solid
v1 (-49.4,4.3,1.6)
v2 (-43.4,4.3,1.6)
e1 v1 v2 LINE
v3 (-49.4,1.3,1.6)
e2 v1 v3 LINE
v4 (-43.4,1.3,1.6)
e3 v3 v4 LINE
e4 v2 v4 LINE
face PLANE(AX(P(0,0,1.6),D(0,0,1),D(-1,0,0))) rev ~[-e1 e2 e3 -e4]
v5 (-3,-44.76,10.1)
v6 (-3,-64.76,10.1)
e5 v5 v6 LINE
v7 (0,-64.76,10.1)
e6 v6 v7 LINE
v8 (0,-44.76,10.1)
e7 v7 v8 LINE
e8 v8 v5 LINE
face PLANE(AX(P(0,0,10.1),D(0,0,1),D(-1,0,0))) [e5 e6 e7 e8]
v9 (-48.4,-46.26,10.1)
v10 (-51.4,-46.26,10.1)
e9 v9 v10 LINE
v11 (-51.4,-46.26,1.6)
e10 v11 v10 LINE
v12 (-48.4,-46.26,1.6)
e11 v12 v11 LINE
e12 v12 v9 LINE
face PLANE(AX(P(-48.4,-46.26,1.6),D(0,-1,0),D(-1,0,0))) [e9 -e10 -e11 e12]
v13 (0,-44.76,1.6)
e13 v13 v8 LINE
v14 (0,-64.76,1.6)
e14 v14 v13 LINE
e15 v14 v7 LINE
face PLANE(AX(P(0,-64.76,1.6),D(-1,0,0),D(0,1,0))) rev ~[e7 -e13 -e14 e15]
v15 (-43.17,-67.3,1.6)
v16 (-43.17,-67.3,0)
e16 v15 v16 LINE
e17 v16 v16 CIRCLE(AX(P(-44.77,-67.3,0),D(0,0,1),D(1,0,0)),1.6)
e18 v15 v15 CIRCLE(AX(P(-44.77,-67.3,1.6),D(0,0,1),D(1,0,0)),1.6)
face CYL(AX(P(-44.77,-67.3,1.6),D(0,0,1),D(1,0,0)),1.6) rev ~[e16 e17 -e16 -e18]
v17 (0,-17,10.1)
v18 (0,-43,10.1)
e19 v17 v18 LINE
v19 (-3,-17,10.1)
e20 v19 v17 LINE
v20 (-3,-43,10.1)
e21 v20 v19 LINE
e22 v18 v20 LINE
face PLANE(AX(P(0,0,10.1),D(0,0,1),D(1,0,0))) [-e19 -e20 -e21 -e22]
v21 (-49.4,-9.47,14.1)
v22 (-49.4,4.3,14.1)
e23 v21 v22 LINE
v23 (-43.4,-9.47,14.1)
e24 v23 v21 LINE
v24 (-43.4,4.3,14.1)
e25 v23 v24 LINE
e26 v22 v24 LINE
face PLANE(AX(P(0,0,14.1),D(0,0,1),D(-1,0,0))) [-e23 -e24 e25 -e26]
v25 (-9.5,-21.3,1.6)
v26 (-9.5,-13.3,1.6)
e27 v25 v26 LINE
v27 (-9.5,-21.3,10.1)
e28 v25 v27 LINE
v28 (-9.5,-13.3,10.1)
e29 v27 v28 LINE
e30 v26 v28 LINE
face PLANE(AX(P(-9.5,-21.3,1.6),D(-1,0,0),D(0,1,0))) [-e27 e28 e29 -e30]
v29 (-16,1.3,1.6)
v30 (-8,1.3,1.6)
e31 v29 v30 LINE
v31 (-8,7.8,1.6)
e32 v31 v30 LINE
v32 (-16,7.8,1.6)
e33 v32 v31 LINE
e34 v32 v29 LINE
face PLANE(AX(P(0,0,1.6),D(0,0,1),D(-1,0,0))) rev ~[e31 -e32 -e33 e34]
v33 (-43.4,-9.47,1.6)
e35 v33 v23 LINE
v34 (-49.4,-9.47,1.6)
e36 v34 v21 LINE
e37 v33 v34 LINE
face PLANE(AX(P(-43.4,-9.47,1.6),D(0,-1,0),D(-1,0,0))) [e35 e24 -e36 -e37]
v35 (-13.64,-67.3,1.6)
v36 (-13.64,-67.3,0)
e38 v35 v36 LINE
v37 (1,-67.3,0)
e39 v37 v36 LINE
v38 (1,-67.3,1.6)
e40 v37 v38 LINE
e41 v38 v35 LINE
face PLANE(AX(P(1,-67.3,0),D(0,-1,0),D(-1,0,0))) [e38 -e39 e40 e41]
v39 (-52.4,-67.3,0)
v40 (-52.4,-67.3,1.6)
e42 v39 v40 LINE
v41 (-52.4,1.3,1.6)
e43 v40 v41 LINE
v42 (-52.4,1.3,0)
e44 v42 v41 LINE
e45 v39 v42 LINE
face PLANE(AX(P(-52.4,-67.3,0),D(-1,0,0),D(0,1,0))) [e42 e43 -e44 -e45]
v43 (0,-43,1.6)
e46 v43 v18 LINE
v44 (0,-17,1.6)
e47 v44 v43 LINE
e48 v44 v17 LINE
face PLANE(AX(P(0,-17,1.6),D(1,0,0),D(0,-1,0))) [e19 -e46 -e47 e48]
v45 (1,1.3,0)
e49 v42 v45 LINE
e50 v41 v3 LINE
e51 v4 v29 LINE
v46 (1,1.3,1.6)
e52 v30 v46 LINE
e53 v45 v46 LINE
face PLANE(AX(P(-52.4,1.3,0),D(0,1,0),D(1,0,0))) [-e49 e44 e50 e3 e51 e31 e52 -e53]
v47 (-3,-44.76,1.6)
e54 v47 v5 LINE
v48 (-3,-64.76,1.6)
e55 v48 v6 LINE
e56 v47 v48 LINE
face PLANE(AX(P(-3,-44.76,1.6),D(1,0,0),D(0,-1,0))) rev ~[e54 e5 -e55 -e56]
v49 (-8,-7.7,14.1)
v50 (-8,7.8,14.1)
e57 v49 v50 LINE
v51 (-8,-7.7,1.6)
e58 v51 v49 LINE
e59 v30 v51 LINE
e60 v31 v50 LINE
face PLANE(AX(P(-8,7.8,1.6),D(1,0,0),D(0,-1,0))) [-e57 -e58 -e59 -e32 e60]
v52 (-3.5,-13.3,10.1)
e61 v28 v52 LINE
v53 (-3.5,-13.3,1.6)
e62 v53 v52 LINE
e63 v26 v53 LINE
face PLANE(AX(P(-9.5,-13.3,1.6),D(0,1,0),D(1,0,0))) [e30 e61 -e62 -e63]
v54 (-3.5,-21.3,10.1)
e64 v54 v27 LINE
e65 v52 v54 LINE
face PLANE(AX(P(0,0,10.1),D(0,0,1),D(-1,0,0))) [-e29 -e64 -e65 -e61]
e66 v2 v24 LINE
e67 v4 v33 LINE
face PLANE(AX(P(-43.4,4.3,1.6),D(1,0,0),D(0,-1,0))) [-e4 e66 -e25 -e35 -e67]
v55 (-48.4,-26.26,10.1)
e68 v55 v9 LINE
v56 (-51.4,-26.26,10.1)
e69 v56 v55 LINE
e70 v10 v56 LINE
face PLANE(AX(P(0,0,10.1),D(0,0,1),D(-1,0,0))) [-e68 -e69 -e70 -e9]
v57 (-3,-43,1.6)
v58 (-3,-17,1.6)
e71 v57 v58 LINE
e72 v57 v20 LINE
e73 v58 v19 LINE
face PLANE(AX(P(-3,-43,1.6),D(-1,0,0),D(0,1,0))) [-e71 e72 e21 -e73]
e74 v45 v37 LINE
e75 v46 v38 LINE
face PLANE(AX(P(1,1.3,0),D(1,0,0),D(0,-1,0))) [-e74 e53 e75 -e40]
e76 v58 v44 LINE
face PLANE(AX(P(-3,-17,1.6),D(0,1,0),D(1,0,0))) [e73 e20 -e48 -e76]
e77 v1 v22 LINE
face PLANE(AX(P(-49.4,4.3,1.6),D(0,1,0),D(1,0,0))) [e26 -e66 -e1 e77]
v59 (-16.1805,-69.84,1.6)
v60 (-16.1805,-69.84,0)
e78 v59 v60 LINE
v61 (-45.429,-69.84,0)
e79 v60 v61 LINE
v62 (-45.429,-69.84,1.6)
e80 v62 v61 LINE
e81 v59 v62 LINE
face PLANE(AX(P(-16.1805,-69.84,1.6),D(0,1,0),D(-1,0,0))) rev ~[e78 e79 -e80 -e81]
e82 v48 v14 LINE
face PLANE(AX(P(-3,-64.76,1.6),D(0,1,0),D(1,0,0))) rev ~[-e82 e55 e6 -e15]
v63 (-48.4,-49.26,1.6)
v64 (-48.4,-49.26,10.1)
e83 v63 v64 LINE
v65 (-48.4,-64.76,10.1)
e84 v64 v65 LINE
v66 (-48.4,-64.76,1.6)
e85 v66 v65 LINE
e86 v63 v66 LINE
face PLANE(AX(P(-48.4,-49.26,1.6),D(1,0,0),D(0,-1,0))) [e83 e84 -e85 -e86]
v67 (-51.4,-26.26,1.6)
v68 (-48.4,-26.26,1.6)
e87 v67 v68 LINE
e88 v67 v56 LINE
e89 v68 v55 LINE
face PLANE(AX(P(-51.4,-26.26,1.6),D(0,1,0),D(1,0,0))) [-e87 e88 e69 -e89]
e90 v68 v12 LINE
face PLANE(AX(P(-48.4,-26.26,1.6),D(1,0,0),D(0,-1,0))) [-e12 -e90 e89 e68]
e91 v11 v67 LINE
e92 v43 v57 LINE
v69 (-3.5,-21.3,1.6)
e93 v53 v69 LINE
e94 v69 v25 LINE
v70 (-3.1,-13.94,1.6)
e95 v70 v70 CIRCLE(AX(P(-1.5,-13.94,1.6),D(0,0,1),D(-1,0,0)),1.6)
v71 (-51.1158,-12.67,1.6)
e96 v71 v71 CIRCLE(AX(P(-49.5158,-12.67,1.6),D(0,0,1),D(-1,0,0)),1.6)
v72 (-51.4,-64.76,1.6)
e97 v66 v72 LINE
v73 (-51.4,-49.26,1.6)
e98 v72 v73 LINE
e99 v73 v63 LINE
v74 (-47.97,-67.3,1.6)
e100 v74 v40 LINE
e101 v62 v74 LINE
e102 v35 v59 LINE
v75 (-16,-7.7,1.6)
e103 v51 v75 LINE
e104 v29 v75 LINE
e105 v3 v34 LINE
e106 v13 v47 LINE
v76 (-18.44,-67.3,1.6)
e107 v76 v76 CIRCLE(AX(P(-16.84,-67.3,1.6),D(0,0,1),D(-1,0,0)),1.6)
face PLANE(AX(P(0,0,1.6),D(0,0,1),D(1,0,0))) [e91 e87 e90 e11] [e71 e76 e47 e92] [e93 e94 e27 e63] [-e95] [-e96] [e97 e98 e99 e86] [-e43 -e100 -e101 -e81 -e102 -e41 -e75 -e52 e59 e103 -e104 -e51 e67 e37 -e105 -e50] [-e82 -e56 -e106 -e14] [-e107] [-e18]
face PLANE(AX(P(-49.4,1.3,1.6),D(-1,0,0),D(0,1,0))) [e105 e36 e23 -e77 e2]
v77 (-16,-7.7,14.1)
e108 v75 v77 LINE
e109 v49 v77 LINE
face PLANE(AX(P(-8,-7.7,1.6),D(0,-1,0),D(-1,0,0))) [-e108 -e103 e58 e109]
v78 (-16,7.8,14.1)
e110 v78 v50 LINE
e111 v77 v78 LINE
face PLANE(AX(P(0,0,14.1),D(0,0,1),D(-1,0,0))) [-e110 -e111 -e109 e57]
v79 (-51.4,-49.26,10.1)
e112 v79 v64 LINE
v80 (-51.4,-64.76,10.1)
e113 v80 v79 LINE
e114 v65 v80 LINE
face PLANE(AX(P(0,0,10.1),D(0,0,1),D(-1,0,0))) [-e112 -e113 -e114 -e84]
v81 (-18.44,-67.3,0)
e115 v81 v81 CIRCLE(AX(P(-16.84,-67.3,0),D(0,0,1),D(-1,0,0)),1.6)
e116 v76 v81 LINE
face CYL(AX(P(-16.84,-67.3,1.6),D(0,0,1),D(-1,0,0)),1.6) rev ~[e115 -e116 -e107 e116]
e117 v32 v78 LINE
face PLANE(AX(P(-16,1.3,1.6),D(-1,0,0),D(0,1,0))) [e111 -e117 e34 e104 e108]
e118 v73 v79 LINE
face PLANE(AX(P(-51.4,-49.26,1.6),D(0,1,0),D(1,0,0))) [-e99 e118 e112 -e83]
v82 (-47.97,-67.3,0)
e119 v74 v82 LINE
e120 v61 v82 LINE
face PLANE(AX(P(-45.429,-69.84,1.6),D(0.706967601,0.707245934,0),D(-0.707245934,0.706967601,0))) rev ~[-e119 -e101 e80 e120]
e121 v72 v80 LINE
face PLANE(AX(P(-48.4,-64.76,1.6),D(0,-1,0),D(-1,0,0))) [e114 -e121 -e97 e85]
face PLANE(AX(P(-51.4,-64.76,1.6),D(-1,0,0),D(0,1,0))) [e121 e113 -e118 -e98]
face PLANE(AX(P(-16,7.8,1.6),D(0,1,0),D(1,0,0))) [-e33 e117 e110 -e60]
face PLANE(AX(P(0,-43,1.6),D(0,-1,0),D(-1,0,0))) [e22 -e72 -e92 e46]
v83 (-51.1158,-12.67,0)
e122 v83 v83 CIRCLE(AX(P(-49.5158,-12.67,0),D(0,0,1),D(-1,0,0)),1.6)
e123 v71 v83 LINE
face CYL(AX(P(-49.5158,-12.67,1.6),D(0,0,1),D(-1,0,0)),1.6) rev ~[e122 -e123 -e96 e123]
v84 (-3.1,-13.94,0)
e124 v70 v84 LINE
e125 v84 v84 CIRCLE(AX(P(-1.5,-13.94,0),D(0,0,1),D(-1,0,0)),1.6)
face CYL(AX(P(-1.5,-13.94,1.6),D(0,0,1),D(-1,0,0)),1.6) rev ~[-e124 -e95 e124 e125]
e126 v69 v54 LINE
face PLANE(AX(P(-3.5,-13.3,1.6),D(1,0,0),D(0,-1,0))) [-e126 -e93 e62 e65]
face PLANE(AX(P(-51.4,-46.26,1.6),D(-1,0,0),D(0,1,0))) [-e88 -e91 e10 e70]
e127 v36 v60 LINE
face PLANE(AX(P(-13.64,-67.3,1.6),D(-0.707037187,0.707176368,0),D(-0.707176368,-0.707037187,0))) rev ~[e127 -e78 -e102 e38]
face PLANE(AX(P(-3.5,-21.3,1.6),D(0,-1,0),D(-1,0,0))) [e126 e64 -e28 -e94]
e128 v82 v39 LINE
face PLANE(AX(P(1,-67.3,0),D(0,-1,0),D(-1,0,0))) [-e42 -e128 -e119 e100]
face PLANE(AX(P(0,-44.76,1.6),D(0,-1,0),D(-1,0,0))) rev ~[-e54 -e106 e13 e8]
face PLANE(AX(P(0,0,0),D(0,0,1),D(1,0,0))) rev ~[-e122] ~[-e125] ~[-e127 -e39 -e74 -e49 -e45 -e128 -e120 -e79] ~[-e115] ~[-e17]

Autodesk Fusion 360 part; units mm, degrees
sketch "Sketch1" plane through (0, 0, 0) normal (0, 0, 1) x (1, 0, 0)
  line L0 (-52.4, 1.3) -> (1, 1.3)
  line L1 (1, 1.3) -> (1, -67.3)
  line L2 (1, -67.3) -> (-52.4, -67.3)
  line L3 (-52.4, -67.3) -> (-52.4, 1.3)
  dimension "d1" = 68.6
  dimension "d2" = 53.4
extrude "Extrude1" add sketch "Sketch1" along normal blind 1.6
sketch "Sketch3" plane through (0, 0, 1.6) normal (0, 0, 1) x (-1, 0, 0)
  line L0 (52.4, 67.3) -> (-1, 67.3)
  line L1 (-1, 67.3) -> (-1, -1.3)
  line L2 (-1, -1.3) -> (52.4, -1.3)
  line L3 (52.4, -1.3) -> (52.4, 67.3)
  line L4 (3, 64.76) -> (0, 64.76)
  line L5 (0, 64.76) -> (0, 44.76)
  line L6 (0, 44.76) -> (3, 44.76)
  line L7 (3, 44.76) -> (3, 64.76)
  dimension "d5" = 20
  dimension "d6" = 2.54
  dimension "d7" = 3
  dimension "d34" = 1
extrude "Extrude2" add sketch "Sketch3" along normal blind 8.5 contours L4 L5 L6 L7
sketch "Sketch4" plane through (0, 0, 1.6) normal (0, 0, 1) x (-1, 0, 0)
  line L0 (3, 44.76) -> (0, 44.76)
  line L1 (0, 44.76) -> (0, 64.76)
  line L2 (0, 64.76) -> (3, 64.76)
  line L3 (3, 64.76) -> (3, 44.76)
  line L4 (52.4, 67.3) -> (-1, 67.3)
  line L5 (-1, 67.3) -> (-1, -1.3)
  line L6 (-1, -1.3) -> (52.4, -1.3)
  line L7 (52.4, -1.3) -> (52.4, 67.3)
  line L8 (51.4, 49.26) -> (48.4, 49.26)
  line L9 (48.4, 49.26) -> (48.4, 64.76)
  line L10 (48.4, 64.76) -> (51.4, 64.76)
  line L11 (51.4, 64.76) -> (51.4, 49.26)
  dimension "d10" = 15.5
  dimension "d11" = 2.54
  dimension "d12" = 3
  dimension "d36" = 1
extrude "Extrude3" add sketch "Sketch4" along normal blind 8.5 contours L8 L9 L10 L11
sketch "Sketch5" plane through (0, 0, 1.6) normal (0, 0, 1) x (-1, 0, 0)
  line L0 (51.4, 64.76) -> (51.4, 49.26)
  line L1 (51.4, 49.26) -> (48.4, 49.26)
  line L2 (48.4, 49.26) -> (48.4, 64.76)
  line L3 (48.4, 64.76) -> (51.4, 64.76)
  line L4 (3, 44.76) -> (0, 44.76)
  line L5 (0, 44.76) -> (0, 64.76)
  line L6 (0, 64.76) -> (3, 64.76)
  line L7 (3, 64.76) -> (3, 44.76)
  line L8 (52.4, 67.3) -> (-1, 67.3)
  line L9 (-1, 67.3) -> (-1, -1.3)
  line L10 (-1, -1.3) -> (52.4, -1.3)
  line L11 (52.4, -1.3) -> (52.4, 67.3)
  line L12 (51.4, 26.26) -> (48.4, 26.26)
  line L13 (48.4, 26.26) -> (48.4, 46.26)
  line L14 (48.4, 46.26) -> (51.4, 46.26)
  line L15 (51.4, 46.26) -> (51.4, 26.26)
  dimension "d15" = 20
  dimension "d16" = 3
  dimension "d17" = 3
  dimension "d35" = 1
extrude "Extrude4" add sketch "Sketch5" along normal blind 8.5 contours L12 L13 L14 L15
sketch "Sketch6" plane through (0, 0, 1.6) normal (0, 0, 1) x (-1, 0, 0)
  line L0 (51.4, 46.26) -> (51.4, 26.26)
  line L1 (51.4, 26.26) -> (48.4, 26.26)
  line L2 (48.4, 26.26) -> (48.4, 46.26)
  line L3 (48.4, 46.26) -> (51.4, 46.26)
  line L4 (51.4, 64.76) -> (51.4, 49.26)
  line L5 (51.4, 49.26) -> (48.4, 49.26)
  line L6 (48.4, 49.26) -> (48.4, 64.76)
  line L7 (48.4, 64.76) -> (51.4, 64.76)
  line L8 (3, 44.76) -> (0, 44.76)
  line L9 (0, 44.76) -> (0, 64.76)
  line L10 (0, 64.76) -> (3, 64.76)
  line L11 (3, 64.76) -> (3, 44.76)
  line L12 (52.4, 67.3) -> (-1, 67.3)
  line L13 (-1, 67.3) -> (-1, -1.3)
  line L14 (-1, -1.3) -> (52.4, -1.3)
  line L15 (52.4, -1.3) -> (52.4, 67.3)
  line L16 (9.5, 13.3) -> (3.5, 13.3)
  line L17 (3.5, 13.3) -> (3.5, 21.3)
  line L18 (3.5, 21.3) -> (9.5, 21.3)
  line L19 (9.5, 21.3) -> (9.5, 13.3)
  dimension "d20" = 8
  dimension "d21" = 6
  dimension "d22" = 46
  dimension "d23" = 0.5
extrude "Extrude5" add sketch "Sketch6" along normal blind 8.5 contours L16 L17 L18 L19
sketch "Sketch7" plane through (0, 0, 1.6) normal (0, 0, 1) x (-1, 0, 0)
  line L0 (9.5, 21.3) -> (9.5, 13.3)
  line L1 (9.5, 13.3) -> (3.5, 13.3)
  line L2 (3.5, 13.3) -> (3.5, 21.3)
  line L3 (3.5, 21.3) -> (9.5, 21.3)
  line L4 (51.4, 46.26) -> (51.4, 26.26)
  line L5 (51.4, 26.26) -> (48.4, 26.26)
  line L6 (48.4, 26.26) -> (48.4, 46.26)
  line L7 (48.4, 46.26) -> (51.4, 46.26)
  line L8 (51.4, 64.76) -> (51.4, 49.26)
  line L9 (51.4, 49.26) -> (48.4, 49.26)
  line L10 (48.4, 49.26) -> (48.4, 64.76)
  line L11 (48.4, 64.76) -> (51.4, 64.76)
  line L12 (3, 44.76) -> (0, 44.76)
  line L13 (0, 44.76) -> (0, 64.76)
  line L14 (0, 64.76) -> (3, 64.76)
  line L15 (3, 64.76) -> (3, 44.76)
  line L16 (52.4, 67.3) -> (-1, 67.3)
  line L17 (-1, 67.3) -> (-1, -1.3)
  line L18 (-1, -1.3) -> (52.4, -1.3)
  line L19 (52.4, -1.3) -> (52.4, 67.3)
  circle A0 centre (1.5, 13.94) radius 1.6
  dimension "d26" = 3.2
  dimension "d27" = 15.24
  dimension "d28" = 2.5
sketch "Sketch8" plane through (0, 0, 10.1) normal (0, 0, 1) x (-1, 0, 0)
  line L0 (3, 44.76) -> (3, 64.76)
  line L1 (3, 64.76) -> (0, 64.76)
  line L2 (0, 64.76) -> (0, 44.76)
  line L3 (0, 44.76) -> (3, 44.76)
sketch "Sketch9" plane through (0, 0, 1.6) normal (0, 0, 1) x (1, 0, 0)
  line L0 (0, -43) -> (-3, -43)
  line L1 (-3, -43) -> (-3, -17)
  line L2 (-3, -17) -> (0, -17)
  line L3 (0, -17) -> (0, -43)
  line L4 (1, -67.3) -> (1, 1.3)
  dimension "d29" = 26
  dimension "d30" = 3
  dimension "d31" = 1
extrude "Extrude6" add sketch "Sketch9" along normal blind 8.5
extrude "Extrude7" cut sketch "Sketch7" against normal blind 50 contours A0
sketch "Sketch10" plane through (0, 0, 1.6) normal (0, 0, 1) x (-1, 0, 0)
  circle A0 centre (1.5, 13.94) radius 1.6
  line L0 (0, 17) -> (0, 43)
  line L1 (0, 43) -> (3, 43)
  line L2 (3, 43) -> (3, 17)
  line L3 (3, 17) -> (0, 17)
  line L4 (9.5, 21.3) -> (9.5, 13.3)
  line L5 (9.5, 13.3) -> (3.5, 13.3)
  line L6 (3.5, 13.3) -> (3.5, 21.3)
  line L7 (3.5, 21.3) -> (9.5, 21.3)
  line L8 (51.4, 46.26) -> (51.4, 26.26)
  line L9 (51.4, 26.26) -> (48.4, 26.26)
  line L10 (48.4, 26.26) -> (48.4, 46.26)
  line L11 (48.4, 46.26) -> (51.4, 46.26)
  line L12 (51.4, 64.76) -> (51.4, 49.26)
  line L13 (51.4, 49.26) -> (48.4, 49.26)
  line L14 (48.4, 49.26) -> (48.4, 64.76)
  line L15 (48.4, 64.76) -> (51.4, 64.76)
  line L16 (3, 44.76) -> (0, 44.76)
  line L17 (0, 44.76) -> (0, 64.76)
  line L18 (0, 64.76) -> (3, 64.76)
  line L19 (3, 64.76) -> (3, 44.76)
  line L20 (52.4, 67.3) -> (-1, 67.3)
  line L21 (-1, 67.3) -> (-1, -1.3)
  line L22 (-1, -1.3) -> (52.4, -1.3)
  line L23 (52.4, -1.3) -> (52.4, 67.3)
  line L24 (49.4, -4.3) -> (43.4, -4.3)
  line L25 (43.4, -4.3) -> (43.4, 9.47)
  line L26 (43.4, 9.47) -> (49.4, 9.47)
  line L27 (49.4, 9.47) -> (49.4, -4.3)
  dimension "d39" = 13.77
  dimension "d40" = 3
  dimension "d41" = 6
  dimension "d44" = 3
extrude "Extrude8" add sketch "Sketch10" along normal blind 12.5 contours L22 L24 L25 L27 | L22 L25 L26 L27
sketch "Sketch11" plane through (0, 0, 1.6) normal (0, 0, 1) x (-1, 0, 0)
  line L0 (49.4, 9.47) -> (49.4, -1.3)
  line L1 (49.4, -1.3) -> (52.4, -1.3)
  line L2 (52.4, -1.3) -> (52.4, 67.3)
  line L3 (52.4, 67.3) -> (-1, 67.3)
  line L4 (-1, 67.3) -> (-1, -1.3)
  line L5 (-1, -1.3) -> (43.4, -1.3)
  line L6 (43.4, -1.3) -> (43.4, 9.47)
  line L7 (43.4, 9.47) -> (49.4, 9.47)
  circle A0 centre (1.5, 13.94) radius 1.6
  line L8 (0, 17) -> (0, 43)
  line L9 (0, 43) -> (3, 43)
  line L10 (3, 43) -> (3, 17)
  line L11 (3, 17) -> (0, 17)
  line L12 (9.5, 21.3) -> (9.5, 13.3)
  line L13 (9.5, 13.3) -> (3.5, 13.3)
  line L14 (3.5, 13.3) -> (3.5, 21.3)
  line L15 (3.5, 21.3) -> (9.5, 21.3)
  line L16 (51.4, 46.26) -> (51.4, 26.26)
  line L17 (51.4, 26.26) -> (48.4, 26.26)
  line L18 (48.4, 26.26) -> (48.4, 46.26)
  line L19 (48.4, 46.26) -> (51.4, 46.26)
  line L20 (51.4, 64.76) -> (51.4, 49.26)
  line L21 (51.4, 49.26) -> (48.4, 49.26)
  line L22 (48.4, 49.26) -> (48.4, 64.76)
  line L23 (48.4, 64.76) -> (51.4, 64.76)
  line L24 (3, 44.76) -> (0, 44.76)
  line L25 (0, 44.76) -> (0, 64.76)
  line L26 (0, 64.76) -> (3, 64.76)
  line L27 (3, 64.76) -> (3, 44.76)
  circle A1 centre (49.5158, 12.67) radius 1.6
  dimension "d45" = 3.2
  dimension "d46" = 13.97
extrude "Extrude9" cut sketch "Sketch11" against normal blind 1.6 contours A1
sketch "Sketch13" plane through (0, 0, 1.6) normal (0, 0, 1) x (-1, 0, 0)
  circle A0 centre (49.5158, 12.67) radius 1.6
  line L0 (49.4, 9.47) -> (49.4, -1.3)
  line L1 (49.4, -1.3) -> (52.4, -1.3)
  line L2 (52.4, -1.3) -> (52.4, 67.3)
  line L3 (52.4, 67.3) -> (-1, 67.3)
  line L4 (-1, 67.3) -> (-1, -1.3)
  line L5 (-1, -1.3) -> (43.4, -1.3)
  line L6 (43.4, -1.3) -> (43.4, 9.47)
  line L7 (43.4, 9.47) -> (49.4, 9.47)
  circle A1 centre (1.5, 13.94) radius 1.6
  line L8 (0, 17) -> (0, 43)
  line L9 (0, 43) -> (3, 43)
  line L10 (3, 43) -> (3, 17)
  line L11 (3, 17) -> (0, 17)
  line L12 (9.5, 21.3) -> (9.5, 13.3)
  line L13 (9.5, 13.3) -> (3.5, 13.3)
  line L14 (3.5, 13.3) -> (3.5, 21.3)
  line L15 (3.5, 21.3) -> (9.5, 21.3)
  line L16 (51.4, 46.26) -> (51.4, 26.26)
  line L17 (51.4, 26.26) -> (48.4, 26.26)
  line L18 (48.4, 26.26) -> (48.4, 46.26)
  line L19 (48.4, 46.26) -> (51.4, 46.26)
  line L20 (51.4, 64.76) -> (51.4, 49.26)
  line L21 (51.4, 49.26) -> (48.4, 49.26)
  line L22 (48.4, 49.26) -> (48.4, 64.76)
  line L23 (48.4, 64.76) -> (51.4, 64.76)
  line L24 (3, 44.76) -> (0, 44.76)
  line L25 (0, 44.76) -> (0, 64.76)
  line L26 (0, 64.76) -> (3, 64.76)
  line L27 (3, 64.76) -> (3, 44.76)
  line L28 (-1, 69.84) -> (52, 69.84)
  line L29 (13.64, 67.3) -> (16.1805, 69.84)
  line L30 (45.429, 69.84) -> (47.97, 67.3)
  dimension "d49" = 2.54
  dimension "d50" = 14.64
  dimension "d51" = 4.43
extrude "Extrude10" add sketch "Sketch13" against normal blind 1.6 contours L3 L28 L29 L30
sketch "Sketch14" plane through (0, 0, 1.6) normal (0, 0, 1) x (-1, 0, 0)
  circle A0 centre (49.5158, 12.67) radius 1.6
  line L0 (49.4, 9.47) -> (49.4, -1.3)
  line L1 (49.4, -1.3) -> (52.4, -1.3)
  line L2 (52.4, -1.3) -> (52.4, 67.3)
  line L3 (52.4, 67.3) -> (47.97, 67.3)
  line L4 (47.97, 67.3) -> (45.429, 69.84)
  line L5 (45.429, 69.84) -> (16.1805, 69.84)
  line L6 (16.1805, 69.84) -> (13.64, 67.3)
  line L7 (13.64, 67.3) -> (-1, 67.3)
  line L8 (-1, 67.3) -> (-1, -1.3)
  line L9 (-1, -1.3) -> (43.4, -1.3)
  line L10 (43.4, -1.3) -> (43.4, 9.47)
  line L11 (43.4, 9.47) -> (49.4, 9.47)
  circle A1 centre (1.5, 13.94) radius 1.6
  line L12 (0, 17) -> (0, 43)
  line L13 (0, 43) -> (3, 43)
  line L14 (3, 43) -> (3, 17)
  line L15 (3, 17) -> (0, 17)
  line L16 (9.5, 21.3) -> (9.5, 13.3)
  line L17 (9.5, 13.3) -> (3.5, 13.3)
  line L18 (3.5, 13.3) -> (3.5, 21.3)
  line L19 (3.5, 21.3) -> (9.5, 21.3)
  line L20 (51.4, 46.26) -> (51.4, 26.26)
  line L21 (51.4, 26.26) -> (48.4, 26.26)
  line L22 (48.4, 26.26) -> (48.4, 46.26)
  line L23 (48.4, 46.26) -> (51.4, 46.26)
  line L24 (51.4, 64.76) -> (51.4, 49.26)
  line L25 (51.4, 49.26) -> (48.4, 49.26)
  line L26 (48.4, 49.26) -> (48.4, 64.76)
  line L27 (48.4, 64.76) -> (51.4, 64.76)
  line L28 (3, 44.76) -> (0, 44.76)
  line L29 (0, 44.76) -> (0, 64.76)
  line L30 (0, 64.76) -> (3, 64.76)
  line L31 (3, 64.76) -> (3, 44.76)
  circle A2 centre (16.84, 67.3) radius 1.6
  dimension "d54" = 3.2
  dimension "d55" = 17.84
  dimension "d56" = 2.54
sketch "Sketch15" plane through (0, 0, 1.6) normal (0, 0, 1) x (1, 0, 0)
  circle A0 centre (-44.77, -67.3) radius 1.6
  line L0 (-45.429, -69.84) -> (-16.1805, -69.84)
  point P0 (-52.4, -67.3)
  dimension "d57" = 3.2
  dimension "d58" = 7.63
  dimension "d59" = 2.54
extrude "Extrude11" cut sketch "Sketch14" against normal blind 1.6 contours A2
extrude "Extrude12" cut sketch "Sketch15" against normal blind 1.6
sketch "Sketch16" plane through (0, 0, 1.6) normal (0, 0, 1) x (-1, 0, 0)
  circle A0 centre (44.77, 67.3) radius 1.6
  circle A1 centre (16.84, 67.3) radius 1.6
  circle A2 centre (49.5158, 12.67) radius 1.6
  line L0 (49.4, 9.47) -> (49.4, -1.3)
  line L1 (49.4, -1.3) -> (52.4, -1.3)
  line L2 (52.4, -1.3) -> (52.4, 67.3)
  line L3 (52.4, 67.3) -> (47.97, 67.3)
  line L4 (47.97, 67.3) -> (45.429, 69.84)
  line L5 (45.429, 69.84) -> (16.1805, 69.84)
  line L6 (16.1805, 69.84) -> (13.64, 67.3)
  line L7 (13.64, 67.3) -> (-1, 67.3)
  line L8 (-1, 67.3) -> (-1, -1.3)
  line L9 (-1, -1.3) -> (43.4, -1.3)
  line L10 (43.4, -1.3) -> (43.4, 9.47)
  line L11 (43.4, 9.47) -> (49.4, 9.47)
  circle A3 centre (1.5, 13.94) radius 1.6
  line L12 (0, 17) -> (0, 43)
  line L13 (0, 43) -> (3, 43)
  line L14 (3, 43) -> (3, 17)
  line L15 (3, 17) -> (0, 17)
  line L16 (9.5, 21.3) -> (9.5, 13.3)
  line L17 (9.5, 13.3) -> (3.5, 13.3)
  line L18 (3.5, 13.3) -> (3.5, 21.3)
  line L19 (3.5, 21.3) -> (9.5, 21.3)
  line L20 (51.4, 46.26) -> (51.4, 26.26)
  line L21 (51.4, 26.26) -> (48.4, 26.26)
  line L22 (48.4, 26.26) -> (48.4, 46.26)
  line L23 (48.4, 46.26) -> (51.4, 46.26)
  line L24 (51.4, 64.76) -> (51.4, 49.26)
  line L25 (51.4, 49.26) -> (48.4, 49.26)
  line L26 (48.4, 49.26) -> (48.4, 64.76)
  line L27 (48.4, 64.76) -> (51.4, 64.76)
  line L28 (3, 44.76) -> (0, 44.76)
  line L29 (0, 44.76) -> (0, 64.76)
  line L30 (0, 64.76) -> (3, 64.76)
  line L31 (3, 64.76) -> (3, 44.76)
  line L32 (8, 7.7) -> (16, 7.7)
  line L33 (16, 7.7) -> (16, -7.8)
  line L34 (16, -7.8) -> (8, -7.8)
  line L35 (8, -7.8) -> (8, 7.7)
  dimension "d64" = 15.5
  dimension "d65" = 9
extrude "Extrude13" add sketch "Sketch16" along normal blind 12.5 contours L9 L33 L34 L35 | L9 L32 L33 L35
sketch "Sketch17" plane through (0, 0, 1.6) normal (0, 0, 1) x (-1, 0, 0)
  line L0 (16, 7.7) -> (16, -1.3)
  line L1 (16, -1.3) -> (43.4, -1.3)
  line L2 (43.4, -1.3) -> (43.4, 9.47)
  line L3 (43.4, 9.47) -> (49.4, 9.47)
  line L4 (49.4, 9.47) -> (49.4, -1.3)
  line L5 (49.4, -1.3) -> (52.4, -1.3)
  line L6 (52.4, -1.3) -> (52.4, 67.3)
  line L7 (52.4, 67.3) -> (47.97, 67.3)
  line L8 (47.97, 67.3) -> (45.429, 69.84)
  line L9 (45.429, 69.84) -> (16.1805, 69.84)
  line L10 (16.1805, 69.84) -> (13.64, 67.3)
  line L11 (13.64, 67.3) -> (-1, 67.3)
  line L12 (-1, 67.3) -> (-1, -1.3)
  line L13 (-1, -1.3) -> (8, -1.3)
  line L14 (8, -1.3) -> (8, 7.7)
  line L15 (8, 7.7) -> (16, 7.7)
  circle A0 centre (44.77, 67.3) radius 1.6
  circle A1 centre (16.84, 67.3) radius 1.6
  circle A2 centre (49.5158, 12.67) radius 1.6
  circle A3 centre (1.5, 13.94) radius 1.6
  line L16 (0, 17) -> (0, 43)
  line L17 (0, 43) -> (3, 43)
  line L18 (3, 43) -> (3, 17)
  line L19 (3, 17) -> (0, 17)
  line L20 (9.5, 21.3) -> (9.5, 13.3)
  line L21 (9.5, 13.3) -> (3.5, 13.3)
  line L22 (3.5, 13.3) -> (3.5, 21.3)
  line L23 (3.5, 21.3) -> (9.5, 21.3)
  line L24 (51.4, 46.26) -> (51.4, 26.26)
  line L25 (51.4, 26.26) -> (48.4, 26.26)
  line L26 (48.4, 26.26) -> (48.4, 46.26)
  line L27 (48.4, 46.26) -> (51.4, 46.26)
  line L28 (51.4, 64.76) -> (51.4, 49.26)
  line L29 (51.4, 49.26) -> (48.4, 49.26)
  line L30 (48.4, 49.26) -> (48.4, 64.76)
  line L31 (48.4, 64.76) -> (51.4, 64.76)
  line L32 (3, 44.76) -> (0, 44.76)
  line L33 (0, 44.76) -> (0, 64.76)
  line L34 (0, 64.76) -> (3, 64.76)
  line L35 (3, 64.76) -> (3, 44.76)
